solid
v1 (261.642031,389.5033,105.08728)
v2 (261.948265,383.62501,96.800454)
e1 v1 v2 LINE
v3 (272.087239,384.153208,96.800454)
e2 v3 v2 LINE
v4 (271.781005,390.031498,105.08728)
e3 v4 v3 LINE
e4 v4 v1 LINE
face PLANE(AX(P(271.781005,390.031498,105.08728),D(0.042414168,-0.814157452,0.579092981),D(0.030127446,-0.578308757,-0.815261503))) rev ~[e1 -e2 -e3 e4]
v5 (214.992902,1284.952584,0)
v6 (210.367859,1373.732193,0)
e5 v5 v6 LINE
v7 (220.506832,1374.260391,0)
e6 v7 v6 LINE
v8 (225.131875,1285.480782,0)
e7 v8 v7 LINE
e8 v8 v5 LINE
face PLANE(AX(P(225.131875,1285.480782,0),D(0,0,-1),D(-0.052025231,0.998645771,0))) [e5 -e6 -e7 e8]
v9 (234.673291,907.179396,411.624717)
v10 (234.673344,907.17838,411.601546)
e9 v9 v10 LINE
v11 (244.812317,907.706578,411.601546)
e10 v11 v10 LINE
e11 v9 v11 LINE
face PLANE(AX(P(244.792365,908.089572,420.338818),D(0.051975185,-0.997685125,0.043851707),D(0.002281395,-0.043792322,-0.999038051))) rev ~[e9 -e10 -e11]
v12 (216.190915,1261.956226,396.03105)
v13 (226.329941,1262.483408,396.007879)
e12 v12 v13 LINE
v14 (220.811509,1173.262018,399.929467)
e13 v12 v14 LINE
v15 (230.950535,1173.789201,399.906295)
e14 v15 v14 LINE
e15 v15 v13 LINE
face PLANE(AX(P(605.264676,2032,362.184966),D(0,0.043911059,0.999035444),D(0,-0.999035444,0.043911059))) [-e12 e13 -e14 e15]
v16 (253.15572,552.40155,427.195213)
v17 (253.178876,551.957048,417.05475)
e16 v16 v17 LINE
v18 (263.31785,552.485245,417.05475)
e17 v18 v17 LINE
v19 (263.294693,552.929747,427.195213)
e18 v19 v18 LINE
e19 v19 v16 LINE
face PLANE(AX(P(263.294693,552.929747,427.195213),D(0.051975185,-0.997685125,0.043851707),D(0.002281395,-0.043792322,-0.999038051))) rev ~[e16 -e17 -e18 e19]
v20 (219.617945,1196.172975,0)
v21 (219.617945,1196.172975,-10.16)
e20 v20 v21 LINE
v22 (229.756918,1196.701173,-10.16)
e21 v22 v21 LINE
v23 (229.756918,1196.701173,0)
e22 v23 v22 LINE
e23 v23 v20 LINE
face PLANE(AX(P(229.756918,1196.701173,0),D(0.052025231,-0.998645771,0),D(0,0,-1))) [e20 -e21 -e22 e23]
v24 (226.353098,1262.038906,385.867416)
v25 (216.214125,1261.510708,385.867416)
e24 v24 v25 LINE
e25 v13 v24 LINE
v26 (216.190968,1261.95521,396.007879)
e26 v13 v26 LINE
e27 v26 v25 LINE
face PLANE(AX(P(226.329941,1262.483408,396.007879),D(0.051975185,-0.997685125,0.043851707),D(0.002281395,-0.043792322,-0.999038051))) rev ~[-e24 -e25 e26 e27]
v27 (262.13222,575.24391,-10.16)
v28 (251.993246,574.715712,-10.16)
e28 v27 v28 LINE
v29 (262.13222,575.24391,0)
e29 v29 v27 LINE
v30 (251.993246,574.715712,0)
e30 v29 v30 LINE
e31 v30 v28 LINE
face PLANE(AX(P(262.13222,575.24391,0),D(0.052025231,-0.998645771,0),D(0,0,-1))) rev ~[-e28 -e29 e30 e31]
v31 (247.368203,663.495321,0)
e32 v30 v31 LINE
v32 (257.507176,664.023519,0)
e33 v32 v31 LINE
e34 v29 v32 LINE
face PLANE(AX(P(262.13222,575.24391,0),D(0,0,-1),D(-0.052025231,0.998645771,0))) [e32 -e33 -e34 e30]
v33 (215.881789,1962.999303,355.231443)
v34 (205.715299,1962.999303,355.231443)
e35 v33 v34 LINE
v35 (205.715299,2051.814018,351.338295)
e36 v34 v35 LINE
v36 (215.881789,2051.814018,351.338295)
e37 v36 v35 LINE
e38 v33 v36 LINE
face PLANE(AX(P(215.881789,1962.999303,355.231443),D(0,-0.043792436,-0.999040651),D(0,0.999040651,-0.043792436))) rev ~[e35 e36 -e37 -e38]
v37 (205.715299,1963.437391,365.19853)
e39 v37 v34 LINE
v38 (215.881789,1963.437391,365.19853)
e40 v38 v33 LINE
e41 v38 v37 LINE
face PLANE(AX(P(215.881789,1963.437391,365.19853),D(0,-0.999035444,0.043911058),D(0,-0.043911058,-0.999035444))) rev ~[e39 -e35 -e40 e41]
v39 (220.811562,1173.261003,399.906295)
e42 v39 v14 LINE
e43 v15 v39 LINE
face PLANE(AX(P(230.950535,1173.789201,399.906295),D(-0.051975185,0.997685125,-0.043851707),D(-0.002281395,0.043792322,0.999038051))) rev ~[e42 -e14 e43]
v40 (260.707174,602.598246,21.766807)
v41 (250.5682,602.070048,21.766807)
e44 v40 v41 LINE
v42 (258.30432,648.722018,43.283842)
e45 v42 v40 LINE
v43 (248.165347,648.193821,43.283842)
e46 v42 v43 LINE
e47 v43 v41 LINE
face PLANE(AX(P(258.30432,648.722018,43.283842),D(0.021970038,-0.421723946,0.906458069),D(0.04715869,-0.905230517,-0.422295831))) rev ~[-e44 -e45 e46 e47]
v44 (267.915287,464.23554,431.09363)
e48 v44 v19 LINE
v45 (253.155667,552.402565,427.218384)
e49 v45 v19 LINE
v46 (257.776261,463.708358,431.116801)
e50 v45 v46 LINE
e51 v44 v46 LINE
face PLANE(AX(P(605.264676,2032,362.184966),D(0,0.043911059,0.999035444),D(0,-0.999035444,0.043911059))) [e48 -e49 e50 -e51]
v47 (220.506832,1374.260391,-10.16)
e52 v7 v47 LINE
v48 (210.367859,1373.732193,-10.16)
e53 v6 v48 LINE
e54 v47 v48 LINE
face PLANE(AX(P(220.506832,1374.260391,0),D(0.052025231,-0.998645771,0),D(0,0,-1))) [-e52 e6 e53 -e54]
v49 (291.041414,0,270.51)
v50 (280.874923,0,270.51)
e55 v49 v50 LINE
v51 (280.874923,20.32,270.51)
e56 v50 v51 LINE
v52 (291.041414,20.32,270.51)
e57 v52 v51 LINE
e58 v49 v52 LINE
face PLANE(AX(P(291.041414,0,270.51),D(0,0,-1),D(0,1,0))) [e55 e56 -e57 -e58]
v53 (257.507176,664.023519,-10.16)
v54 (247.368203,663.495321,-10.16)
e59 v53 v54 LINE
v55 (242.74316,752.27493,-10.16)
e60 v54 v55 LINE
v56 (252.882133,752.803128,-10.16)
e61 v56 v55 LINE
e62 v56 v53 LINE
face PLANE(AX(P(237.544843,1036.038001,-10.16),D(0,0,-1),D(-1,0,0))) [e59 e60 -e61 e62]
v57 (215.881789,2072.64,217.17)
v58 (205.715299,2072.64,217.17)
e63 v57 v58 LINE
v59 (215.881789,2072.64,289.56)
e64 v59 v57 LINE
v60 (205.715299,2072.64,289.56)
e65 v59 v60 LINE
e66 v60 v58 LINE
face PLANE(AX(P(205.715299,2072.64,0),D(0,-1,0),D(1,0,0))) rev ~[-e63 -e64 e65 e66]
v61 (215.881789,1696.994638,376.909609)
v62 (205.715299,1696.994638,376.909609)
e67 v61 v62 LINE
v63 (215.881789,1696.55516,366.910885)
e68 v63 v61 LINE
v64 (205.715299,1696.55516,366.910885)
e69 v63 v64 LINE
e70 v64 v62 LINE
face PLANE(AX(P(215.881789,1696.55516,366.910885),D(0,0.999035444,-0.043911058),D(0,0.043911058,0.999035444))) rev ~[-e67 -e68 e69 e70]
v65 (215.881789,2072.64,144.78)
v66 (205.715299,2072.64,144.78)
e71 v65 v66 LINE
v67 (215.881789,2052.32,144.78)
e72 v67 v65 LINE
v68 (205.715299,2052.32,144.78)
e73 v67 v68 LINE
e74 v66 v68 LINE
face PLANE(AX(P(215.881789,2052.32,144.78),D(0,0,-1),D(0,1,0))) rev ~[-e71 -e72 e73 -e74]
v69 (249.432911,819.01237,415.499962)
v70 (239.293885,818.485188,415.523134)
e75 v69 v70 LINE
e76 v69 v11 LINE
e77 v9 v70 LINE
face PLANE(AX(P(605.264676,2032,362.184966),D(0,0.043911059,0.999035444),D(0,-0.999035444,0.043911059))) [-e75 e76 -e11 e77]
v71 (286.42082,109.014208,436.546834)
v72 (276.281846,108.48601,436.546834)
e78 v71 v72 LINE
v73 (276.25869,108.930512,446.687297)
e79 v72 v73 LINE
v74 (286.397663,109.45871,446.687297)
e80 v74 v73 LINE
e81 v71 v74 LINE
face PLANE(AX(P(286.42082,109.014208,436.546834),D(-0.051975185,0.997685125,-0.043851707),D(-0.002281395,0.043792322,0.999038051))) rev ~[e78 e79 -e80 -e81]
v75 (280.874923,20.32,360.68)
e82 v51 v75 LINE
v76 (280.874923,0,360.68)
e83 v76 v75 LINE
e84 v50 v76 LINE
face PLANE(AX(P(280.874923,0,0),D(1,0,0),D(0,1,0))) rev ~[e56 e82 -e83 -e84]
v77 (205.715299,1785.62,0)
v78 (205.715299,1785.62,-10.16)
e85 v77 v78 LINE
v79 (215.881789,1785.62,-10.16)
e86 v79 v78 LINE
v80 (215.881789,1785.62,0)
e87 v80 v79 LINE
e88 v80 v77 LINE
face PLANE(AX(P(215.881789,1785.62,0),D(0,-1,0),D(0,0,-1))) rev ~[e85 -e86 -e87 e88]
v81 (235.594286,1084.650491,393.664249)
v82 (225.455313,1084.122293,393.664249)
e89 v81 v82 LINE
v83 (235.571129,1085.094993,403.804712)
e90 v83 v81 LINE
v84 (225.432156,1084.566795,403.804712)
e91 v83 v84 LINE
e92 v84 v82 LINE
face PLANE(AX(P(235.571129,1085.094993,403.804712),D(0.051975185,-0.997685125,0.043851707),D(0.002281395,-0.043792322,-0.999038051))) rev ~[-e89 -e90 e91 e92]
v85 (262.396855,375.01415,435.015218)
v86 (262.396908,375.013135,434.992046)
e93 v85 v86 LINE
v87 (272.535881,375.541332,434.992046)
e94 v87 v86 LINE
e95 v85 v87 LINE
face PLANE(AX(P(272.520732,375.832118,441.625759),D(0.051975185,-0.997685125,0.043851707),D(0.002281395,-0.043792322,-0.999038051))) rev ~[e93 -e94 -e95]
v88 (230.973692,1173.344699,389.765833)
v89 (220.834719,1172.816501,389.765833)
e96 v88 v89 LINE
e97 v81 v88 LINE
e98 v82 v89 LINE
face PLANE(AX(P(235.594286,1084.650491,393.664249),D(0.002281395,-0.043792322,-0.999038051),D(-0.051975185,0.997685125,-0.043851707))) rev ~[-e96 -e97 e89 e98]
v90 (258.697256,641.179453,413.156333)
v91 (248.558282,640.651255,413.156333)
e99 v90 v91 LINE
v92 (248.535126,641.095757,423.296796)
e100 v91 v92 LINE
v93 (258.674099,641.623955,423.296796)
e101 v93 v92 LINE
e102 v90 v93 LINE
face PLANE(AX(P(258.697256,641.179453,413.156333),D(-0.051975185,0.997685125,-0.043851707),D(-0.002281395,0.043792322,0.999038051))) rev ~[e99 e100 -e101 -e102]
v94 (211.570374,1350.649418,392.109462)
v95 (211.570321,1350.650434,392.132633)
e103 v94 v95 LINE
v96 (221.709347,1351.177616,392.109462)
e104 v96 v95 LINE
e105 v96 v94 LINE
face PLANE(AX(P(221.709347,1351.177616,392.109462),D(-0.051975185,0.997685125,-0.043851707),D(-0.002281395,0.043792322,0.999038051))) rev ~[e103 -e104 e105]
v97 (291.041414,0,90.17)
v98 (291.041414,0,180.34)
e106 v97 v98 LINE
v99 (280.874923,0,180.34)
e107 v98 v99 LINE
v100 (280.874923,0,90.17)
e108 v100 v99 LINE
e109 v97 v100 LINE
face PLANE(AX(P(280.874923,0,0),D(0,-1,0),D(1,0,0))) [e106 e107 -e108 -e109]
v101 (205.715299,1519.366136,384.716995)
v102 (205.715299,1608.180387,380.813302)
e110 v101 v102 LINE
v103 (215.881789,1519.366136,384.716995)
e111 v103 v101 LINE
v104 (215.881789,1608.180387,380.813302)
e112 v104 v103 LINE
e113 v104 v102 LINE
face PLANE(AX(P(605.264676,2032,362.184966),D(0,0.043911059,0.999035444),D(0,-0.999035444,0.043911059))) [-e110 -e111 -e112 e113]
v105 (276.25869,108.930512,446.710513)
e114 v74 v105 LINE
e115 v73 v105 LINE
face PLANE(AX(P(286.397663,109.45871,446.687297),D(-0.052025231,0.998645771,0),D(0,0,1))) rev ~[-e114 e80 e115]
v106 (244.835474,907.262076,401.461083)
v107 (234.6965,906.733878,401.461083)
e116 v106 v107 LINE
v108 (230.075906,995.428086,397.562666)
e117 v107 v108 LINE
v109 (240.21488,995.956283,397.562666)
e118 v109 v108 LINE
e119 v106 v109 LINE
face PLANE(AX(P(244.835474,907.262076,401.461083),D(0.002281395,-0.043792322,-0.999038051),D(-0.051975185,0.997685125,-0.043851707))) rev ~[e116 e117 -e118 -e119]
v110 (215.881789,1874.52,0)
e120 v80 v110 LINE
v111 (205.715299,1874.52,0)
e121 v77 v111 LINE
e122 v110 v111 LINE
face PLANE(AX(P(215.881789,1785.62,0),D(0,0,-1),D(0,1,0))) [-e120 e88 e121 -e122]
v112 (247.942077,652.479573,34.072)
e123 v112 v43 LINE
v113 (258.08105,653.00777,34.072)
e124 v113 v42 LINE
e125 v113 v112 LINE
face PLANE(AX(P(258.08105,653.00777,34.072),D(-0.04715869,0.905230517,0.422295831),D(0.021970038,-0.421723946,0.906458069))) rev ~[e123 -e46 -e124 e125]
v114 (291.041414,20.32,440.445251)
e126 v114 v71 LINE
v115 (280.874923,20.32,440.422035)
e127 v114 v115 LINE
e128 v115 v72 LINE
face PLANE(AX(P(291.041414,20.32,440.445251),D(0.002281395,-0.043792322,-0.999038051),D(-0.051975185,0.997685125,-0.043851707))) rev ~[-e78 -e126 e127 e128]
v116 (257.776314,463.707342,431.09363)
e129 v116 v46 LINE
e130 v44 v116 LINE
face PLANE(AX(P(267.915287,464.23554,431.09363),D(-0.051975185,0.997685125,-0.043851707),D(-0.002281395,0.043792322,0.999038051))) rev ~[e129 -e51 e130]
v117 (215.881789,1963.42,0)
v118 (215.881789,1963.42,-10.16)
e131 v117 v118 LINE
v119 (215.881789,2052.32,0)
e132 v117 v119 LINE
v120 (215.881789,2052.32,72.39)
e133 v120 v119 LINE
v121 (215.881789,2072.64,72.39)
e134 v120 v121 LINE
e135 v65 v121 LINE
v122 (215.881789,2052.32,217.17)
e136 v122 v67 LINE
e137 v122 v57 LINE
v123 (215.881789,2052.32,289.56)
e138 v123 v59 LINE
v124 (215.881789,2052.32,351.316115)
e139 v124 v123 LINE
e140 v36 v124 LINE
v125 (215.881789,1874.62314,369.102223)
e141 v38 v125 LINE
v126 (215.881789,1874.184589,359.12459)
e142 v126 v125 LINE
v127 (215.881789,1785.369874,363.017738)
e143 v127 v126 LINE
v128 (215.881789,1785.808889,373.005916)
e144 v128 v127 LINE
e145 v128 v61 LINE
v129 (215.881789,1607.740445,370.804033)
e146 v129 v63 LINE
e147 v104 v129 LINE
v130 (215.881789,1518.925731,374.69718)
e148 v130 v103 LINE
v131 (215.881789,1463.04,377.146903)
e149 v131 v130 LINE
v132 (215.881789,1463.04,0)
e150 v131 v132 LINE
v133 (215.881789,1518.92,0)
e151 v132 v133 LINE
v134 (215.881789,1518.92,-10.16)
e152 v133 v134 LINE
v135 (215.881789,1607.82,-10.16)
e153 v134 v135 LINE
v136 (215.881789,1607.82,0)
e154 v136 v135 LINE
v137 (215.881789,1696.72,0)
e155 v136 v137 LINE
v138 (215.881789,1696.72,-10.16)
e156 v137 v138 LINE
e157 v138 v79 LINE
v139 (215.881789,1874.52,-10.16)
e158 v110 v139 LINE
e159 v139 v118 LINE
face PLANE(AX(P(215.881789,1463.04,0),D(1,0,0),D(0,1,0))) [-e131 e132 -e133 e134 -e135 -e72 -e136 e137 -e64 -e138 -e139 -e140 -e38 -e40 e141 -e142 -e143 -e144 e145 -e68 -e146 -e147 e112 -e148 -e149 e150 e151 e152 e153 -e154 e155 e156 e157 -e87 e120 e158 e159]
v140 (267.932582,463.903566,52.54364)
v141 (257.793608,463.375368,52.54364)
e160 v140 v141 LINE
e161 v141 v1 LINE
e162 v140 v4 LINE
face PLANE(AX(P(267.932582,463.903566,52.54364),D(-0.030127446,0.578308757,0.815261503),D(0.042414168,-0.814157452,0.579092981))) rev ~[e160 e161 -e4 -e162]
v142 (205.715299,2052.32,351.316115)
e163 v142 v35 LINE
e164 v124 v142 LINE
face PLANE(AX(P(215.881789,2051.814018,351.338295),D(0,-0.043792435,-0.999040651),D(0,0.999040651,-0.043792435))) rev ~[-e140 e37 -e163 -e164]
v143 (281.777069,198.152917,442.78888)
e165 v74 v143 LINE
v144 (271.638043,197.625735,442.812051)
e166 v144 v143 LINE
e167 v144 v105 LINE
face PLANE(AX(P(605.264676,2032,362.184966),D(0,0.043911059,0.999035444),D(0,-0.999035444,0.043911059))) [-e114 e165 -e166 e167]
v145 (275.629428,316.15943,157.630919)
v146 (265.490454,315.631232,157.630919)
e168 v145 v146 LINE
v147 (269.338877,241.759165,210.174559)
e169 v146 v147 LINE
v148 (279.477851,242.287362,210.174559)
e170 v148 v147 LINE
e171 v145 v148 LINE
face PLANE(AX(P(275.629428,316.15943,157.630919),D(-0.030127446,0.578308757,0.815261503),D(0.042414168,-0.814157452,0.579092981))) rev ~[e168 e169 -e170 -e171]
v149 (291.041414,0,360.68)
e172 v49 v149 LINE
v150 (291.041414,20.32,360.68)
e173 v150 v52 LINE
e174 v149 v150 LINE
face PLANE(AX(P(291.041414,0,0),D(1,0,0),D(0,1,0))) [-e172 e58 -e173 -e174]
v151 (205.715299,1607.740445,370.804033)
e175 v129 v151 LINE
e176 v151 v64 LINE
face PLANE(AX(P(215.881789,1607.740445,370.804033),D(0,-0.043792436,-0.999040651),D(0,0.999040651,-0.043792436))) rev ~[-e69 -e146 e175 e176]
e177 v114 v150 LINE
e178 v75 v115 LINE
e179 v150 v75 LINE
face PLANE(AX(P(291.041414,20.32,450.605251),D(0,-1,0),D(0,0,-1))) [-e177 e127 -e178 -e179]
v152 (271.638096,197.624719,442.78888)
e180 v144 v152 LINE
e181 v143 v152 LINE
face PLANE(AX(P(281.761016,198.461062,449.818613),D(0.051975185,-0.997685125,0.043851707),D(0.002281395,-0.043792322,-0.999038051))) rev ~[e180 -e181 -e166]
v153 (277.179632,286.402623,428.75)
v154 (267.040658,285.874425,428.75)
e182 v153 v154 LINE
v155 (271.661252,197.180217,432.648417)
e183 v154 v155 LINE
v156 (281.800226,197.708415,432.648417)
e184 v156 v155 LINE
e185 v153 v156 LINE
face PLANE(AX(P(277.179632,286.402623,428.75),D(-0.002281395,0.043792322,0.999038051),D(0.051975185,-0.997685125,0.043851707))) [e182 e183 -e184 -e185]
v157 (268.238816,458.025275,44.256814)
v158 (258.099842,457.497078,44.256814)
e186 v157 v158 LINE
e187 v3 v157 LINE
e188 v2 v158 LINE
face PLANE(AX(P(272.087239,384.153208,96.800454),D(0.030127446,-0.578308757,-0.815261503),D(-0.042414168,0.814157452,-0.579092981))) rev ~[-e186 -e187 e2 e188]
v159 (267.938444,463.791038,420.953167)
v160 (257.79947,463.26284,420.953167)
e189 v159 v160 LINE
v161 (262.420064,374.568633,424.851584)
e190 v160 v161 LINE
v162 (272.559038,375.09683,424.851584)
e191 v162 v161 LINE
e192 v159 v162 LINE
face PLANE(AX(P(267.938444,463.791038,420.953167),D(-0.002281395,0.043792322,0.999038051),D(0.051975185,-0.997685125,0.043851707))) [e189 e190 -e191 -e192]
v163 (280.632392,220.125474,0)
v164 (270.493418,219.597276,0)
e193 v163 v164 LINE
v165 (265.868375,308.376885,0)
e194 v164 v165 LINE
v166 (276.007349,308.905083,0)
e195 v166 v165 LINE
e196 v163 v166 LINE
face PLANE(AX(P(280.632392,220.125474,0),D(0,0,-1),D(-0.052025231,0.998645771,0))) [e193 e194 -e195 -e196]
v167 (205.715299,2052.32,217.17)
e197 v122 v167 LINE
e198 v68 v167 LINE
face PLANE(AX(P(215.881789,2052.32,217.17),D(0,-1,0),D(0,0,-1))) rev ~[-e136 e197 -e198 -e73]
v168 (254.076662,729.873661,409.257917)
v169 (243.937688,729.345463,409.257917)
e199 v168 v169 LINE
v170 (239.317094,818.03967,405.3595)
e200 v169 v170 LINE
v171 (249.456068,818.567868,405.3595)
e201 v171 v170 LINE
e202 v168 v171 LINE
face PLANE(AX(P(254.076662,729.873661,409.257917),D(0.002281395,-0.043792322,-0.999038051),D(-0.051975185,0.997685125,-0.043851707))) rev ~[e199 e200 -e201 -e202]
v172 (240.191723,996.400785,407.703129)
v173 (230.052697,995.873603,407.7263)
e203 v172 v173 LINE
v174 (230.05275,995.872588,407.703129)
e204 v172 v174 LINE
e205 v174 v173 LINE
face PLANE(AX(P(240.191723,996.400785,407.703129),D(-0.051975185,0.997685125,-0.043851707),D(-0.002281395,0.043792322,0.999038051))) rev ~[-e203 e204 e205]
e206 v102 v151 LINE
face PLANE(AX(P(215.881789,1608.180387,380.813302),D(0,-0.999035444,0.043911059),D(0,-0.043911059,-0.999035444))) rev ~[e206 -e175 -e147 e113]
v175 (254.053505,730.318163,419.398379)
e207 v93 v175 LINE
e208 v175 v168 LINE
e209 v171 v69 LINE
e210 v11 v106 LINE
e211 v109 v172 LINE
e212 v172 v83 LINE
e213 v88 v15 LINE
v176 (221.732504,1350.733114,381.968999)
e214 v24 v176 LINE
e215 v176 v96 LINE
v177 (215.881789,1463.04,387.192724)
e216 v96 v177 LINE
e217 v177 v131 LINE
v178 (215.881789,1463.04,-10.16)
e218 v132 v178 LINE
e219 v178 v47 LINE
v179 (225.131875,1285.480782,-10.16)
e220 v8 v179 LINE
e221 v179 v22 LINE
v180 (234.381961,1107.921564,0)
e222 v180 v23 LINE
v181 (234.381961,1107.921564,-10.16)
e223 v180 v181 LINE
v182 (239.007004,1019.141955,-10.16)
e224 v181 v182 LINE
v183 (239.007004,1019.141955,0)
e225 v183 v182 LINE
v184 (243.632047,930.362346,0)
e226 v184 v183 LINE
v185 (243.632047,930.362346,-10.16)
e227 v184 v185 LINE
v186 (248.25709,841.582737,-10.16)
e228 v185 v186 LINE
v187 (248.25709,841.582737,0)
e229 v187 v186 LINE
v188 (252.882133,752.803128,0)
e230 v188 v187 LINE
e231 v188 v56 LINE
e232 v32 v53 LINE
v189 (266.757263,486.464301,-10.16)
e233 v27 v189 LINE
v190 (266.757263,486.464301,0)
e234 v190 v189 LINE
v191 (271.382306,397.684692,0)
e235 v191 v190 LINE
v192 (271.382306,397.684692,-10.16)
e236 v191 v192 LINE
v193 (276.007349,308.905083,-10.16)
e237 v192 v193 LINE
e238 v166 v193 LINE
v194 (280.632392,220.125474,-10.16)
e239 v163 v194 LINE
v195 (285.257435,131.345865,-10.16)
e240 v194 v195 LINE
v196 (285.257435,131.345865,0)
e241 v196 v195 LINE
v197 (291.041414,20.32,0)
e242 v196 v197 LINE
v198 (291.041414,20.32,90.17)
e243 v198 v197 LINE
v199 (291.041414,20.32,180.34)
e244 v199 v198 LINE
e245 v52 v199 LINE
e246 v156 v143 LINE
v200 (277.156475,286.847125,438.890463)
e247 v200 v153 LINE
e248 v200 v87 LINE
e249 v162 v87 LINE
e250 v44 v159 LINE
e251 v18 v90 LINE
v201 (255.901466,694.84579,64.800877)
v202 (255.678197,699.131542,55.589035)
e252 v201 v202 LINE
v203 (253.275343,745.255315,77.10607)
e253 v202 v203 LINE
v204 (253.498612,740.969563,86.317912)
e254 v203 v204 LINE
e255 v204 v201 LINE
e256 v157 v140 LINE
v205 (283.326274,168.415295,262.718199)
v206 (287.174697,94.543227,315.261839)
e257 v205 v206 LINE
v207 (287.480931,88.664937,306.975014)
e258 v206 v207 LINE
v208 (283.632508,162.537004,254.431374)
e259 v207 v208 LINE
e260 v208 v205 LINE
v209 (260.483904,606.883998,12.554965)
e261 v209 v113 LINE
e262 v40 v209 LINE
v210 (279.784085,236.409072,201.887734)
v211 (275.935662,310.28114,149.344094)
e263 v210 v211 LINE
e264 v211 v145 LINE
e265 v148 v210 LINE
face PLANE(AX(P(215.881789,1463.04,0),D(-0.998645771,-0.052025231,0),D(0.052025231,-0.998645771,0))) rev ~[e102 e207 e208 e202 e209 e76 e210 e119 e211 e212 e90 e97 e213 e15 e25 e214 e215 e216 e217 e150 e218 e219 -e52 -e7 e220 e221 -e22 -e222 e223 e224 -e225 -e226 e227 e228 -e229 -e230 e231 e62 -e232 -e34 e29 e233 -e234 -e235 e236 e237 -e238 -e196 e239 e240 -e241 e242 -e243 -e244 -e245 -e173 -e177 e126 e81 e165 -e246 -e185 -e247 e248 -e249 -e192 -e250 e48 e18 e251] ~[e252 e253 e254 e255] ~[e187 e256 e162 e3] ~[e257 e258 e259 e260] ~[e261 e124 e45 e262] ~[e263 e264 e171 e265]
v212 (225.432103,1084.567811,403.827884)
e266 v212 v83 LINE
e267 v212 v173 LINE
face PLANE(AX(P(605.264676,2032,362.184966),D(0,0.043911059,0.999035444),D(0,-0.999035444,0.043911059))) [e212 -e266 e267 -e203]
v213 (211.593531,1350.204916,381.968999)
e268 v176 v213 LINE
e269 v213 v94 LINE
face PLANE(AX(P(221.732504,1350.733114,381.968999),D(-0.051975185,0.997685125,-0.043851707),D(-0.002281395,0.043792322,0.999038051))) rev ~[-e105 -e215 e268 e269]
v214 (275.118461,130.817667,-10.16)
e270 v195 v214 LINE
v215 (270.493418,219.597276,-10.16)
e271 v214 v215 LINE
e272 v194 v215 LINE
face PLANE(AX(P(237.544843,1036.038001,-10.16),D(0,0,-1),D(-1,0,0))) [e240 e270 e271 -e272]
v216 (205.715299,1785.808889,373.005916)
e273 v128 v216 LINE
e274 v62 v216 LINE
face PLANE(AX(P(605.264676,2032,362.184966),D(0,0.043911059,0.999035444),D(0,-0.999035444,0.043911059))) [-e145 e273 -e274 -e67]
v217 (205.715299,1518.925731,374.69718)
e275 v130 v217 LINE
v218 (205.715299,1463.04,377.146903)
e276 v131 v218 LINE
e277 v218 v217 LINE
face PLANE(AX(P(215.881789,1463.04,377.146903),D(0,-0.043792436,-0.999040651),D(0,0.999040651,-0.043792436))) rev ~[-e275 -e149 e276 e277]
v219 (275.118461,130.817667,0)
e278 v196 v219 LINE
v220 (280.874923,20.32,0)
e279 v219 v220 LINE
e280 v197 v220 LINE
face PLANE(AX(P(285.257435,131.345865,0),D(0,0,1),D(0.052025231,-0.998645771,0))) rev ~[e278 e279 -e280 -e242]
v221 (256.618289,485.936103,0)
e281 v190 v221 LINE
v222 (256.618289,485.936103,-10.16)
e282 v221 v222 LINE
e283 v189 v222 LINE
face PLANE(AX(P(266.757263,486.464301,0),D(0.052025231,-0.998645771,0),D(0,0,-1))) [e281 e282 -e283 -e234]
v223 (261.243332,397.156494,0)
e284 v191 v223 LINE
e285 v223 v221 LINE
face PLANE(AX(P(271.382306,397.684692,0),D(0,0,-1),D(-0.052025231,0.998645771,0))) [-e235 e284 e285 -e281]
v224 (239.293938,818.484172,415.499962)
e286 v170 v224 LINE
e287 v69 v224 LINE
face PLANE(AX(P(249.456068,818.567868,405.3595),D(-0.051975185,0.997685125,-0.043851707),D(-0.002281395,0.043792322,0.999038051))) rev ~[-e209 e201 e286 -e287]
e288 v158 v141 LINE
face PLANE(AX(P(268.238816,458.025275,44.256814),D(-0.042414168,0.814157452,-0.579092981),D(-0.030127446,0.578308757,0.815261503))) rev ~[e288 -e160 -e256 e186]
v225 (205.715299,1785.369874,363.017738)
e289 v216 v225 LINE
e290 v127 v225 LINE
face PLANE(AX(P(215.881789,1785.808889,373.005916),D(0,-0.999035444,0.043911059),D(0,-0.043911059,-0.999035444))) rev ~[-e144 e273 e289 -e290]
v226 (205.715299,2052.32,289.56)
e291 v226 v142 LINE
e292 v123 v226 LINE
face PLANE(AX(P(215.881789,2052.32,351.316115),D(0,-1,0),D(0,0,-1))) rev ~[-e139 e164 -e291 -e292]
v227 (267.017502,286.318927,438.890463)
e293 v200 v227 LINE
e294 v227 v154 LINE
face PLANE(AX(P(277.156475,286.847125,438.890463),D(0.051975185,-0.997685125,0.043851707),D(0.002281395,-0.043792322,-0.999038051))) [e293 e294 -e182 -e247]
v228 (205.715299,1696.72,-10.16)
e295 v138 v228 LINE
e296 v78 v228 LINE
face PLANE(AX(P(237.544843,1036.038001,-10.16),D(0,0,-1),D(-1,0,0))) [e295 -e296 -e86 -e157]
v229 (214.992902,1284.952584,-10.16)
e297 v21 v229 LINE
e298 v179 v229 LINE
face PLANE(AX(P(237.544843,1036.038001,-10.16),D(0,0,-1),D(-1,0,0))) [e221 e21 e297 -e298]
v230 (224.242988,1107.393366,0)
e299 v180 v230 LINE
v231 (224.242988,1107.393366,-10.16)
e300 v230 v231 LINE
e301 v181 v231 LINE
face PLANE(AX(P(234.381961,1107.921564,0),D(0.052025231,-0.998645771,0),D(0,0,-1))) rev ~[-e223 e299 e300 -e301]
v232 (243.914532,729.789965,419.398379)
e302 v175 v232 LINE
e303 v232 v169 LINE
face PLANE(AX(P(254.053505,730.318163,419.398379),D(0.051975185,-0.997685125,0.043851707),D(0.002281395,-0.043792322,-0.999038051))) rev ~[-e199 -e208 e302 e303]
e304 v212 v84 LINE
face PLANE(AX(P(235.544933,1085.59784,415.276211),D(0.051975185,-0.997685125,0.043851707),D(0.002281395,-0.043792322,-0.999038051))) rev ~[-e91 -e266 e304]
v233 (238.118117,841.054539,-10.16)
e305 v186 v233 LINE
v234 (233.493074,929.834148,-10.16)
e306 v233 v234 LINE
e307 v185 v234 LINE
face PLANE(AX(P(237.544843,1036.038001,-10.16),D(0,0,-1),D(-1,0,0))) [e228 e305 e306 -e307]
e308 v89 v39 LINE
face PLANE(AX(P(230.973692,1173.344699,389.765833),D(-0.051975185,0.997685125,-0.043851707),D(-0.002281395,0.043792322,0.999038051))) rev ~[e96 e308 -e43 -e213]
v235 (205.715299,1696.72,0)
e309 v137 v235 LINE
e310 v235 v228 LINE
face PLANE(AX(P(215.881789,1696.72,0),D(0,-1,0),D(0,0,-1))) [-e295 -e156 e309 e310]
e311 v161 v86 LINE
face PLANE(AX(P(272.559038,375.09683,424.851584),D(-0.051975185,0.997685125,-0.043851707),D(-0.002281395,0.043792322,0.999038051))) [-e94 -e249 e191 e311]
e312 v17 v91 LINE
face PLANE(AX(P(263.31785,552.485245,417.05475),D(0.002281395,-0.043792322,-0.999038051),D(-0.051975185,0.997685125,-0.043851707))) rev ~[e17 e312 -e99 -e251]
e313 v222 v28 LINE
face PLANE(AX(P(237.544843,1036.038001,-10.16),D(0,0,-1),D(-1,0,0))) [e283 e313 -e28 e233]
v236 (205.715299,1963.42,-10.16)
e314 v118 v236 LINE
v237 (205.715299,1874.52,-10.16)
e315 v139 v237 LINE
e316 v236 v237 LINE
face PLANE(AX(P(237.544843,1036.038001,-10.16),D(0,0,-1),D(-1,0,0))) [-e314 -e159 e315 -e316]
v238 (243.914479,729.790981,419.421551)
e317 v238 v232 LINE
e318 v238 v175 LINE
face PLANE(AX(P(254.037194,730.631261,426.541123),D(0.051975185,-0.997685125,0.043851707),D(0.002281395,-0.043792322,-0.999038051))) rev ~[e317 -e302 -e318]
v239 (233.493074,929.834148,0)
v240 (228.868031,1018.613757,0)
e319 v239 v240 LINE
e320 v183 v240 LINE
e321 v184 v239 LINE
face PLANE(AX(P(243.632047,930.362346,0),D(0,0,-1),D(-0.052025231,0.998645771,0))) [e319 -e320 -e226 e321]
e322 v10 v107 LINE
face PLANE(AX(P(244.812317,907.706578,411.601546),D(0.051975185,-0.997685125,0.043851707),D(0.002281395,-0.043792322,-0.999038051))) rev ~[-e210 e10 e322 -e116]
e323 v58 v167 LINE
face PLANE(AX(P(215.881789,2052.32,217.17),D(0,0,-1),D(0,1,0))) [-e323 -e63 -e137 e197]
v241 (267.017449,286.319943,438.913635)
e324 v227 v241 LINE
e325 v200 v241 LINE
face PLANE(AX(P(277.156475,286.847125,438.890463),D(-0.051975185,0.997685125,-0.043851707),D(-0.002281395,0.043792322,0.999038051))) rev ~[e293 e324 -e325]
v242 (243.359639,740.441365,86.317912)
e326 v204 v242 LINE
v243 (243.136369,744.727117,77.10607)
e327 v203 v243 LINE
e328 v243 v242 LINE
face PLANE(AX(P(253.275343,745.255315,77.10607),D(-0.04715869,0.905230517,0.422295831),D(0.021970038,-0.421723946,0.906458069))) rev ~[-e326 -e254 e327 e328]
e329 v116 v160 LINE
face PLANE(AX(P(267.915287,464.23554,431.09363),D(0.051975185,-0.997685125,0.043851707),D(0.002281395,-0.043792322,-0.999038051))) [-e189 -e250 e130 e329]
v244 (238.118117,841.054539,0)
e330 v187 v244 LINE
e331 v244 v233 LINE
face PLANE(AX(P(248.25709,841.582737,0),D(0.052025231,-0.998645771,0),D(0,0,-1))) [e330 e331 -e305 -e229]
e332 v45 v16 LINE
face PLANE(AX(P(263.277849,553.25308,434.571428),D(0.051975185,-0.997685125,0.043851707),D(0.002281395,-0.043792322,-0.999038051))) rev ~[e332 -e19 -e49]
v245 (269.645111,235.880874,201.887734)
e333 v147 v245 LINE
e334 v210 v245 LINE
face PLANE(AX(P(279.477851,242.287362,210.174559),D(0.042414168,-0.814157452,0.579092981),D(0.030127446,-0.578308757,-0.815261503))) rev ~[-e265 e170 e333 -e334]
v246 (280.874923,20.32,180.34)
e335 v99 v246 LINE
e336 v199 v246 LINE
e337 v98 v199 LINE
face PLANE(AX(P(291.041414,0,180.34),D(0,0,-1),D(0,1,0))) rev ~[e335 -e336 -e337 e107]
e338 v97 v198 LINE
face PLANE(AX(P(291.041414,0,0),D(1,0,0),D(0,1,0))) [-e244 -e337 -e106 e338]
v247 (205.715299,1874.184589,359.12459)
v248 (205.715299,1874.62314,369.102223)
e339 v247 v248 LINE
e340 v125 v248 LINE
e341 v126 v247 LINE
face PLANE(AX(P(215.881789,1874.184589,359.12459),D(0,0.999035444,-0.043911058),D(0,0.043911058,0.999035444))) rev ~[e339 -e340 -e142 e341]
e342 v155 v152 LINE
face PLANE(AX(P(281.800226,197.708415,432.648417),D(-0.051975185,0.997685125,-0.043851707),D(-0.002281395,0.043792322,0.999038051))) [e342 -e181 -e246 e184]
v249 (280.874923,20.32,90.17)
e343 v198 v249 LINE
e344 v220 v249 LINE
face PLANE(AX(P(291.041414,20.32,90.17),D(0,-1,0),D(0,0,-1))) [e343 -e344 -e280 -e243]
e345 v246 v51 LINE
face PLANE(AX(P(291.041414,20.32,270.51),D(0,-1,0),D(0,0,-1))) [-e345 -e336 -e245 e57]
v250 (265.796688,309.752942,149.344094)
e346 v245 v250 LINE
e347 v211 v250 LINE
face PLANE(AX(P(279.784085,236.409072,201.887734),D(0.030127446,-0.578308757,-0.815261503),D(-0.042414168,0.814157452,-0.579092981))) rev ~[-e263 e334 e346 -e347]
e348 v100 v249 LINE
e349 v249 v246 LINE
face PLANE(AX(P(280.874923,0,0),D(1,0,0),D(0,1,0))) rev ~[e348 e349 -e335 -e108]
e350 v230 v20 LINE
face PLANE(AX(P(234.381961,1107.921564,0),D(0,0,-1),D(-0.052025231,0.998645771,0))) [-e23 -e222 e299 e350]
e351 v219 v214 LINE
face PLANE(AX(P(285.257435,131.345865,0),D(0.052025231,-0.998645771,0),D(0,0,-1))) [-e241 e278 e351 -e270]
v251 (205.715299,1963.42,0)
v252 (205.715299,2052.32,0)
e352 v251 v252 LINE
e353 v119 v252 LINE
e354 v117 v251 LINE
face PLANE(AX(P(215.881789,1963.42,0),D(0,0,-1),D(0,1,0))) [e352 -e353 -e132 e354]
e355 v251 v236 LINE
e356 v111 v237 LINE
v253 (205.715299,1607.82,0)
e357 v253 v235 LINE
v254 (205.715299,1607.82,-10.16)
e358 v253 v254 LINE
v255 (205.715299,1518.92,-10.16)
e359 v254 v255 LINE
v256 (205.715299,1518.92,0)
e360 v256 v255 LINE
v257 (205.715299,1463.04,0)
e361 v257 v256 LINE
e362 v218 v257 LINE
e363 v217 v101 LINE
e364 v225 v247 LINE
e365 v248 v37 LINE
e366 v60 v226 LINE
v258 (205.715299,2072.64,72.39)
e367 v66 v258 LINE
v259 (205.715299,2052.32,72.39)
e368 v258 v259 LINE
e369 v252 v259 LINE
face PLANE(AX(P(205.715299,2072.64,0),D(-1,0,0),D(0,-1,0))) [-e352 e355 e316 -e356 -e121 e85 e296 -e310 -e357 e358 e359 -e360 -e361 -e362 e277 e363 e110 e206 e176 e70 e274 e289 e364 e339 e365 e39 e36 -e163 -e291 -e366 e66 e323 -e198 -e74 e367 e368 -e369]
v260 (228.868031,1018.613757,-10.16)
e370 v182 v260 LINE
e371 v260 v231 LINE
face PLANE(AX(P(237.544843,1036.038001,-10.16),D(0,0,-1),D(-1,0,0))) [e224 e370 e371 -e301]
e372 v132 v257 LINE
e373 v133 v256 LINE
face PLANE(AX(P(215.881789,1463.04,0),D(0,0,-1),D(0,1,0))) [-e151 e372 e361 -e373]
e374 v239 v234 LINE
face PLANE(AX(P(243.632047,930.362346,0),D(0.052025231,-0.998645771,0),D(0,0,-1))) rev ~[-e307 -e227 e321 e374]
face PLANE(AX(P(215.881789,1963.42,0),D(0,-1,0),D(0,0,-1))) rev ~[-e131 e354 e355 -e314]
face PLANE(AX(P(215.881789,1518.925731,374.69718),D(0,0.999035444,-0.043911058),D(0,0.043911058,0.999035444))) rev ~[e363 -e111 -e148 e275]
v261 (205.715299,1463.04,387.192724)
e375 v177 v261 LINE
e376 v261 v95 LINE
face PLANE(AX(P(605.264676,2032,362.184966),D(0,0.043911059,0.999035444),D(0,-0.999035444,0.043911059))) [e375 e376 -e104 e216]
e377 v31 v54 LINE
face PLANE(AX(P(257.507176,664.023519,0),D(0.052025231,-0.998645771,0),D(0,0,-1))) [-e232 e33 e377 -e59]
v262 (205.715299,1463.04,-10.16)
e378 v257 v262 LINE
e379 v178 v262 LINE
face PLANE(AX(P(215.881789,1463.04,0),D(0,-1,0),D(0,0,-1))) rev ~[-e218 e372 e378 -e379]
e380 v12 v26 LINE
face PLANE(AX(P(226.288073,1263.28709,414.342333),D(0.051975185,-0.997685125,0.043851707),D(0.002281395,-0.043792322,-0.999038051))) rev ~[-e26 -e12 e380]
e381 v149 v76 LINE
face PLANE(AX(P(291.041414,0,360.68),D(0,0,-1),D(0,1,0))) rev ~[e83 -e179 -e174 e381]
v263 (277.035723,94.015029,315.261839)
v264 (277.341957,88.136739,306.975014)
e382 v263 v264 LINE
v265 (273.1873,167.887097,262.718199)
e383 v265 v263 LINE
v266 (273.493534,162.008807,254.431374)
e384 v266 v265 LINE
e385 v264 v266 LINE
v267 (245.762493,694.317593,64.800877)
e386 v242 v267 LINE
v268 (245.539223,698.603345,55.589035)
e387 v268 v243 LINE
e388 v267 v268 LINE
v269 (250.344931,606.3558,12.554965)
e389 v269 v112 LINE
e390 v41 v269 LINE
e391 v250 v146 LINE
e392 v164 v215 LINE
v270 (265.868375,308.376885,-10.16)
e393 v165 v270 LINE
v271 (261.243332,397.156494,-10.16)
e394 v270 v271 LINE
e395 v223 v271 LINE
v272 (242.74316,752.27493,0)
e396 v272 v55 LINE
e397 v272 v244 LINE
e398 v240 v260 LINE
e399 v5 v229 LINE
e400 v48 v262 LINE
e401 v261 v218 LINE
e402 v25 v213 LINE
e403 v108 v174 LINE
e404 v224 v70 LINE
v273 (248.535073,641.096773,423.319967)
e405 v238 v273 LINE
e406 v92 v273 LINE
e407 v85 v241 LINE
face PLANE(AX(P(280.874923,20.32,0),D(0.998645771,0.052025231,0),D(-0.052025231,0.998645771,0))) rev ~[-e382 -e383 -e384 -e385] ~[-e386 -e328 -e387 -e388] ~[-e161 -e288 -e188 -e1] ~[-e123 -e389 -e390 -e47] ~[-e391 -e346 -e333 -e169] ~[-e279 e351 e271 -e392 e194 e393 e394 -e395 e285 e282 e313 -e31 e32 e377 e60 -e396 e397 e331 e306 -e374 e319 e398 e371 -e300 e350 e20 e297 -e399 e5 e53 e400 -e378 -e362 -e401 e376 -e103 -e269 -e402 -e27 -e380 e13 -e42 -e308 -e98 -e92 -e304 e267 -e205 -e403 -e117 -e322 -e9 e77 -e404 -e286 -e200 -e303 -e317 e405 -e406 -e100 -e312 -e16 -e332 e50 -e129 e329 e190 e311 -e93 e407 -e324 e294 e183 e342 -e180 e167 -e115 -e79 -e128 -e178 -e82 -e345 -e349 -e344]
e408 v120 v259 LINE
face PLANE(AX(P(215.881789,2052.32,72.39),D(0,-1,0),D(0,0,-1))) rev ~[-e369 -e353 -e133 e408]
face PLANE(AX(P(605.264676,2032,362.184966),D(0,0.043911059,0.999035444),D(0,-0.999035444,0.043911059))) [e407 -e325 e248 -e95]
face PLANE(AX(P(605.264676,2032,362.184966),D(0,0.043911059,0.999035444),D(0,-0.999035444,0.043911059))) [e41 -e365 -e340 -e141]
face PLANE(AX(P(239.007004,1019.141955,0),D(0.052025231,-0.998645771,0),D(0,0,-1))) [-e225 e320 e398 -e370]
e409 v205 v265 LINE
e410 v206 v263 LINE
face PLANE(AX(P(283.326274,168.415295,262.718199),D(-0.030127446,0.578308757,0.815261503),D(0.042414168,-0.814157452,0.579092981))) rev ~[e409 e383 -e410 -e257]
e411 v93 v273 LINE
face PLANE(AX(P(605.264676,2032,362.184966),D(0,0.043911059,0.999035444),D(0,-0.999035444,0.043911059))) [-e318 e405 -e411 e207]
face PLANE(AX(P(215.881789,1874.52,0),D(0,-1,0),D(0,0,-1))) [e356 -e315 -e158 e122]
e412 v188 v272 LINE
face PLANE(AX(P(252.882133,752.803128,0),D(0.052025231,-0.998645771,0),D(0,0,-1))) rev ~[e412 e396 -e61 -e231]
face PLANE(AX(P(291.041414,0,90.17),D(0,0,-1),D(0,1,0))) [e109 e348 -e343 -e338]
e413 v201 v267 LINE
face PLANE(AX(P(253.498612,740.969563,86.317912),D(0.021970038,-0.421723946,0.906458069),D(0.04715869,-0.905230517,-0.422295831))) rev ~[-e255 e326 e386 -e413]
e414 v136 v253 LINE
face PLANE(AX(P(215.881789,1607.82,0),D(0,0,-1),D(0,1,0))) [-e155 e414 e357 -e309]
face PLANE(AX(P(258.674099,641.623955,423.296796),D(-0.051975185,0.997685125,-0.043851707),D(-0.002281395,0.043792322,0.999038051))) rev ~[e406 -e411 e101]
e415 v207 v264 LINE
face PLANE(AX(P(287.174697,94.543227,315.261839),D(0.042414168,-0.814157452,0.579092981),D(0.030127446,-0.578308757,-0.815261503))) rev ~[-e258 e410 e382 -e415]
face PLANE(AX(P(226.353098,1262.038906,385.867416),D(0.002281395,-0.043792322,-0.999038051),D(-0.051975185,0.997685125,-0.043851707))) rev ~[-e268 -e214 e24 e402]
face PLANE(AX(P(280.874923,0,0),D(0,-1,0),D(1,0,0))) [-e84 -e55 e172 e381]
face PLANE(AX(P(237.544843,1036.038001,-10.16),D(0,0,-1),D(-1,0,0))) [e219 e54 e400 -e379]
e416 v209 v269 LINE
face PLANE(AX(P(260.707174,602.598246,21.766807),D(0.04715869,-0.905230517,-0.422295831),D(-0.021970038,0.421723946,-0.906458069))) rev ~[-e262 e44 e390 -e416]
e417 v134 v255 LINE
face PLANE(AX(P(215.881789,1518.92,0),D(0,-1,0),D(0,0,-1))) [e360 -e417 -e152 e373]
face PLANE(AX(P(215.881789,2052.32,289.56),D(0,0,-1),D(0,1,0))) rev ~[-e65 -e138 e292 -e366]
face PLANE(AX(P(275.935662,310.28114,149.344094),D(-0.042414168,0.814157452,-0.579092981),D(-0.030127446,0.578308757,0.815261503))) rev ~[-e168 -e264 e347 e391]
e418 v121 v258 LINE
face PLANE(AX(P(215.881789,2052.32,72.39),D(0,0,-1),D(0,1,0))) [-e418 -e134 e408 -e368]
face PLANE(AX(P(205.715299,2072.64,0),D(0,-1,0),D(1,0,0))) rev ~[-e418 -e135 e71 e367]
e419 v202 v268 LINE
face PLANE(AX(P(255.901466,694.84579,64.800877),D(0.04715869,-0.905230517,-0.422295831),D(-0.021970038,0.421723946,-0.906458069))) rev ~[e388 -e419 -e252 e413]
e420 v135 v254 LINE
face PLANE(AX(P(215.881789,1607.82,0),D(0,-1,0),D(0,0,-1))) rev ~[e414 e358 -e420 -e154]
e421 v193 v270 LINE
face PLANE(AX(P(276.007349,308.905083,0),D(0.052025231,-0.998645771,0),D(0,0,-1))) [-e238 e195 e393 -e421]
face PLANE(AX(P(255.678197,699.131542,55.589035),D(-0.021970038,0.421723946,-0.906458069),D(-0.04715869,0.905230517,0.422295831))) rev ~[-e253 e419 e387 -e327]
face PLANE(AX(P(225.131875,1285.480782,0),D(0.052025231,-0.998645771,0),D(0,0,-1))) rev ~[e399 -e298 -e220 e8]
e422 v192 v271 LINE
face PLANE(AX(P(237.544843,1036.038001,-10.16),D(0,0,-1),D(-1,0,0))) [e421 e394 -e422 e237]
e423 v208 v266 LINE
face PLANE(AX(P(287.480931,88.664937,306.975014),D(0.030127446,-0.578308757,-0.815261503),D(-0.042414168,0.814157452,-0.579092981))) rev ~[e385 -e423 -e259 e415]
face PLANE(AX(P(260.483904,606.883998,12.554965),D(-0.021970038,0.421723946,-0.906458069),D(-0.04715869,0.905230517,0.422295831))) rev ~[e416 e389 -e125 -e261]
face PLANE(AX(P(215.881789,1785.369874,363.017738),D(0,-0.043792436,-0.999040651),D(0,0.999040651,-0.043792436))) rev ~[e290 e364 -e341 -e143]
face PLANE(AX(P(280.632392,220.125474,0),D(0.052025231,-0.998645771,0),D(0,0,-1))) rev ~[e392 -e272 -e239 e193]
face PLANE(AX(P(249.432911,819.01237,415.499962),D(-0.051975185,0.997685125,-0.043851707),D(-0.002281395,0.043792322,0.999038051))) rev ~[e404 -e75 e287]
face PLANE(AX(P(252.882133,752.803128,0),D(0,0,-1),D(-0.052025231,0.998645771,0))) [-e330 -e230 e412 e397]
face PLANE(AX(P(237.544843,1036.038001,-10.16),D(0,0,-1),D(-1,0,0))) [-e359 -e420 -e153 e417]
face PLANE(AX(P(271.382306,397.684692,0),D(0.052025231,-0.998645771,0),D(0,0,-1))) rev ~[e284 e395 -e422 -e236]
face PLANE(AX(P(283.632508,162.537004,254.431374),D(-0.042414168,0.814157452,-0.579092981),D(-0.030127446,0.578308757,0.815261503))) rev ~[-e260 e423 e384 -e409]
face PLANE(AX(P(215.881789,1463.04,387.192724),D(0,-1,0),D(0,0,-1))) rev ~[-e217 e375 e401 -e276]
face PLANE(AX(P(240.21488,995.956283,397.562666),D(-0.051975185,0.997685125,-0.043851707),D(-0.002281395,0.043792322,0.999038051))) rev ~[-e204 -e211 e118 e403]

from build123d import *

# Parameters (mm, degrees)
SKETCH1_W                = 10.166490401
SKETCH1_H                = 20.32
BOSS_EXTRUDE1_DEPTH      = 450.605251
BOSS_EXTRUDE1_DEPTH_BACK = 10.16
SKETCH2_W                = 40.64
SKETCH2_H                = 88.420284457
CUT_EXTRUDE1_DEPTH       = 1125.982
SKETCH4_W                = 10.16
SKETCH4_H                = 20.292482061
SKETCH4_H_2              = 111.176423169
SKETCH4_H_3              = 88.9
CUT_EXTRUDE2_DEPTH       = 2108.968119463
CUT_EXTRUDE3_REACH       = 2123.564
SKETCH5_W                = 10.16
SKETCH5_H                = 88.9
SKETCH5_H_2              = 55.879999965
SKETCH6_W                = 89.925250809
SKETCH6_H                = 20.32
SKETCH6_W_2              = 90.17
CUT_EXTRUDE4_DEPTH       = 1125.982
SKETCH7_W                = 82.55
SKETCH7_H                = 20.32
SKETCH7_W_2              = 72.39
CUT_EXTRUDE5_DEPTH       = 1125.982
CUT_EXTRUDE6_DEPTH       = 2108.139004111


with BuildPart() as part:
    # Sketch1 → Boss-Extrude1 (new, two sides)
    with BuildSketch(Plane.XY) as boss_extrude1_sk:
        Polygon((291.041413739, 20.32), (280.874923338, 20.32), (205.715298803, 1463.040000035), (205.715298803, 2052.32), (215.881789204, 2052.32), (215.881789204, 1463.040000035), align=None)
        with Locations((285.958168538, 10.16)):
            Rectangle(SKETCH1_W, SKETCH1_H)
        with Locations((210.798544004, 2062.48)):
            Rectangle(SKETCH1_W, SKETCH1_H)
    extrude(amount=BOSS_EXTRUDE1_DEPTH)
    extrude(boss_extrude1_sk.sketch, amount=-BOSS_EXTRUDE1_DEPTH_BACK)

    # Sketch2 → Cut-Extrude1 (cut)
    with BuildSketch(Plane(origin=(605.264675653, -1278.915479685, -1125.851113248), x_dir=(0, -1, 0), z_dir=(-1, 0, 0))):
        Polygon((-3310.915479685, 1576.456364056), (-3310.915479685, 1488.036079599), (-1299.235479685, 1576.456364056), align=None)
        with Locations((-3331.235479685, 1532.246221827)):
            Rectangle(SKETCH2_W, SKETCH2_H)
    extrude(amount=CUT_EXTRUDE1_DEPTH, mode=Mode.SUBTRACT)

    # Sketch4 → Cut-Extrude2 (cut, through all)
    with BuildSketch(Plane(origin=(291.309394939, 15.175990314, 0), x_dir=(0, 0, -1), z_dir=(0.9986457707048434, 0.05202523093009139, 0))):
        with Locations((5.08, -4.99525573)):
            Rectangle(SKETCH4_W, SKETCH4_H)
        with Locations((5.08, 60.739196886)):
            Rectangle(SKETCH4_W, SKETCH4_H_2)
        with Locations((5.08, 249.67740847)):
            Rectangle(SKETCH4_W, SKETCH4_H_3)
        with Locations((5.08, 783.07740847)):
            Rectangle(SKETCH4_W, SKETCH4_H_3)
        with Locations((5.08, 960.87740847)):
            Rectangle(SKETCH4_W, SKETCH4_H_3)
        with Locations((5.08, 1138.67740847)):
            Rectangle(SKETCH4_W, SKETCH4_H_3)
        with Locations((5.08, 1316.47740847)):
            Rectangle(SKETCH4_W, SKETCH4_H_3)
        with Locations((-445.525250809, -4.99525573)):
            Rectangle(SKETCH4_W, SKETCH4_H)
        Polygon((-450.605250809, 5.150985301), (-440.445250809, 5.150985301), (-436.546834031, 93.965468053), (-446.687296633, 94.410572819), align=None)
        Polygon((-411.601545632, 893.740917593), (-401.46108303, 893.295812828), (-397.562666252, 982.11029558), (-407.703128854, 982.555400346), align=None)
        Polygon((-403.804712076, 1071.369883099), (-393.664249474, 1070.924778333), (-389.765832696, 1159.739261086), (-399.906295298, 1160.184365851), align=None)
        Polygon((-396.00787852, 1248.998848604), (-385.867415918, 1248.553743838), (-381.96899914, 1337.368226591), (-392.109461742, 1337.813331357), align=None)
        Polygon((-419.398379188, 716.111952088), (-409.257916585, 715.666847322), (-405.359499808, 804.481330075), (-415.49996241, 804.926434841), align=None)
        Polygon((-455.140613686, 5.150985301), (-450.605250809, 5.150985301), (-446.687296633, 94.410572819), (-450.605250809, 94.410572819), align=None)
        Polygon((-449.818612929, 183.53361819), (-442.788879855, 183.225055572), (-438.890463077, 272.039538325), (-445.920196151, 272.348100943), align=None)
        Polygon((-441.625759495, 361.145200827), (-434.992046299, 360.854021077), (-431.093629521, 449.66850383), (-437.727342717, 449.959683579), align=None)
        Polygon((-434.571427919, 538.806757663), (-427.195212743, 538.482986583), (-423.296795965, 627.297469335), (-430.673011141, 627.621240415), align=None)
        Polygon((-426.54112259, 716.425475174), (-419.398379188, 716.111952088), (-415.49996241, 804.926434841), (-422.642705812, 805.239957927), align=None)
        Polygon((-420.338817864, 894.124430818), (-411.601545632, 893.740917593), (-407.703128854, 982.555400346), (-416.440401086, 982.93891357), align=None)
        Polygon((-415.276210663, 1071.873412266), (-403.804712076, 1071.369883099), (-399.906295298, 1160.184365851), (-411.377793885, 1160.687895019), align=None)
        Polygon((-414.342332906, 1249.80361988), (-396.00787852, 1248.998848604), (-392.109461742, 1337.813331357), (-410.443916128, 1338.618102632), align=None)
        with Locations((5.08, 427.47740847)):
            Rectangle(SKETCH4_W, SKETCH4_H_3)
        with Locations((5.08, 605.27740847)):
            Rectangle(SKETCH4_W, SKETCH4_H_3)
        Polygon((-442.788879855, 183.225055572), (-438.890463077, 272.039538325), (-428.750000475, 271.594433559), (-432.648417253, 182.779950806), align=None)
        Polygon((-434.992046299, 360.854021077), (-431.093629521, 449.66850383), (-420.953166919, 449.223399064), (-424.851583697, 360.408916311), align=None)
        Polygon((-417.054750141, 538.037881817), (-413.156333363, 626.852364569), (-423.296795965, 627.297469335), (-427.195212743, 538.482986583), align=None)
    extrude(amount=-CUT_EXTRUDE2_DEPTH, mode=Mode.SUBTRACT)

    # Cut-Extrude3: up to this face of the body (flat: up to its plane)
    cut_extrude3_end = Plane(part.part.faces().sort_by_distance((205.715298803, 1754.382873748, 182.121056608))[0])
    # Sketch5 → Cut-Extrude3 (cut, up to the picked face)
    with BuildSketch(Plane(origin=(215.881789204, 0, 0), x_dir=(0, 0, -1), z_dir=(1, 0, 0)), mode=Mode.PRIVATE) as cut_extrude3_sk1:
        with Locations((5.08, 2007.87)):
            Rectangle(SKETCH5_W, SKETCH5_H)
    cut_extrude3_tool1 = split(extrude(cut_extrude3_sk1.sketch, amount=-CUT_EXTRUDE3_REACH, mode=Mode.PRIVATE), bisect_by=cut_extrude3_end, keep=Keep.BOTH, mode=Mode.PRIVATE)
    # Sketch5 → Cut-Extrude3 (cut, up to the picked face)
    with BuildSketch(Plane(origin=(215.881789204, 0, 0), x_dir=(0, 0, -1), z_dir=(1, 0, 0)), mode=Mode.PRIVATE) as cut_extrude3_sk2:
        with Locations((5.08, 1830.07)):
            Rectangle(SKETCH5_W, SKETCH5_H)
    cut_extrude3_tool2 = split(extrude(cut_extrude3_sk2.sketch, amount=-CUT_EXTRUDE3_REACH, mode=Mode.PRIVATE), bisect_by=cut_extrude3_end, keep=Keep.BOTH, mode=Mode.PRIVATE)
    # Sketch5 → Cut-Extrude3 (cut, up to the picked face)
    with BuildSketch(Plane(origin=(215.881789204, 0, 0), x_dir=(0, 0, -1), z_dir=(1, 0, 0)), mode=Mode.PRIVATE) as cut_extrude3_sk3:
        with Locations((5.08, 1652.27)):
            Rectangle(SKETCH5_W, SKETCH5_H)
    cut_extrude3_tool3 = split(extrude(cut_extrude3_sk3.sketch, amount=-CUT_EXTRUDE3_REACH, mode=Mode.PRIVATE), bisect_by=cut_extrude3_end, keep=Keep.BOTH, mode=Mode.PRIVATE)
    # Sketch5 → Cut-Extrude3 (cut, up to the picked face)
    with BuildSketch(Plane(origin=(215.881789204, 0, 0), x_dir=(0, 0, -1), z_dir=(1, 0, 0)), mode=Mode.PRIVATE) as cut_extrude3_sk4:
        with Locations((5.08, 1490.980000018)):
            Rectangle(SKETCH5_W, SKETCH5_H_2)
    cut_extrude3_tool4 = split(extrude(cut_extrude3_sk4.sketch, amount=-CUT_EXTRUDE3_REACH, mode=Mode.PRIVATE), bisect_by=cut_extrude3_end, keep=Keep.BOTH, mode=Mode.PRIVATE)
    # Sketch5 → Cut-Extrude3 (cut, up to the picked face)
    with BuildSketch(Plane(origin=(215.881789204, 0, 0), x_dir=(0, 0, -1), z_dir=(1, 0, 0)), mode=Mode.PRIVATE) as cut_extrude3_sk5:
        Polygon((-355.231442512, 1962.99930346), (-351.338294917, 2051.814017969), (-361.488468688, 2052.260153165), (-362.184966352, 2036.370891417), (-362.184966352, 2032), (-365.19852982, 1963.437391374), align=None)
    cut_extrude3_tool5 = split(extrude(cut_extrude3_sk5.sketch, amount=-CUT_EXTRUDE3_REACH, mode=Mode.PRIVATE), bisect_by=cut_extrude3_end, keep=Keep.BOTH, mode=Mode.PRIVATE)
    # Sketch5 → Cut-Extrude3 (cut, up to the picked face)
    with BuildSketch(Plane(origin=(215.881789204, 0, 0), x_dir=(0, 0, -1), z_dir=(1, 0, 0)), mode=Mode.PRIVATE) as cut_extrude3_sk6:
        Polygon((-363.017737701, 1785.369874443), (-359.124590106, 1874.184588952), (-369.102222921, 1874.623140377), (-373.005916021, 1785.80888938), align=None)
    cut_extrude3_tool6 = split(extrude(cut_extrude3_sk6.sketch, amount=-CUT_EXTRUDE3_REACH, mode=Mode.PRIVATE), bisect_by=cut_extrude3_end, keep=Keep.BOTH, mode=Mode.PRIVATE)
    # Sketch5 → Cut-Extrude3 (cut, up to the picked face)
    with BuildSketch(Plane(origin=(215.881789204, 0, 0), x_dir=(0, 0, -1), z_dir=(1, 0, 0)), mode=Mode.PRIVATE) as cut_extrude3_sk7:
        Polygon((-387.19272357, 1463.040000035), (-377.14690292, 1463.040000035), (-374.697180484, 1518.925730918), (-384.716995324, 1519.366136389), align=None)
    cut_extrude3_tool7 = split(extrude(cut_extrude3_sk7.sketch, amount=-CUT_EXTRUDE3_REACH, mode=Mode.PRIVATE), bisect_by=cut_extrude3_end, keep=Keep.BOTH, mode=Mode.PRIVATE)
    # Sketch5 → Cut-Extrude3 (cut, up to the picked face)
    with BuildSketch(Plane(origin=(215.881789204, 0, 0), x_dir=(0, 0, -1), z_dir=(1, 0, 0)), mode=Mode.PRIVATE) as cut_extrude3_sk8:
        Polygon((-370.80403289, 1607.740445426), (-366.910885295, 1696.555159935), (-376.909609122, 1696.994638383), (-380.813302223, 1608.180387386), align=None)
    cut_extrude3_tool8 = split(extrude(cut_extrude3_sk8.sketch, amount=-CUT_EXTRUDE3_REACH, mode=Mode.PRIVATE), bisect_by=cut_extrude3_end, keep=Keep.BOTH, mode=Mode.PRIVATE)
    add(cut_extrude3_tool1.solids().sort_by(Axis((215.881789, 2007.87, -5.08), (-1, 0, 0)))[0], mode=Mode.SUBTRACT)
    add(cut_extrude3_tool2.solids().sort_by(Axis((215.881789, 1830.07, -5.08), (-1, 0, 0)))[0], mode=Mode.SUBTRACT)
    add(cut_extrude3_tool3.solids().sort_by(Axis((215.881789, 1652.27, -5.08), (-1, 0, 0)))[0], mode=Mode.SUBTRACT)
    add(cut_extrude3_tool4.solids().sort_by(Axis((215.881789, 1490.98, -5.08), (-1, 0, 0)))[0], mode=Mode.SUBTRACT)
    add(cut_extrude3_tool5.solids().sort_by(Axis((215.881789, 2007.75713, 358.279909), (-1, 0, 0)))[0], mode=Mode.SUBTRACT)
    add(cut_extrude3_tool6.solids().sort_by(Axis((215.881789, 1829.988805, 366.06296), (-1, 0, 0)))[0], mode=Mode.SUBTRACT)
    add(cut_extrude3_tool7.solids().sort_by(Axis((215.881789, 1491.090003, 380.945152), (-1, 0, 0)))[0], mode=Mode.SUBTRACT)
    add(cut_extrude3_tool8.solids().sort_by(Axis((215.881789, 1652.359856, 373.8598), (-1, 0, 0)))[0], mode=Mode.SUBTRACT)

    # Sketch6 → Cut-Extrude4 (cut)
    with BuildSketch(Plane(origin=(291.041413739, 0, 0), x_dir=(0, 0, -1), z_dir=(1, 0, 0))):
        with Locations((-405.642625404, 10.16)):
            Rectangle(SKETCH6_W, SKETCH6_H)
        with Locations((-225.425, 10.16)):
            Rectangle(SKETCH6_W_2, SKETCH6_H)
        with Locations((-45.085, 10.16)):
            Rectangle(SKETCH6_W_2, SKETCH6_H)
    extrude(amount=-CUT_EXTRUDE4_DEPTH, mode=Mode.SUBTRACT)

    # Sketch7 → Cut-Extrude5 (cut)
    with BuildSketch(Plane(origin=(215.881789204, 0, 0), x_dir=(0, 0, -1), z_dir=(1, 0, 0))):
        with Locations((-31.115, 2062.48)):
            Rectangle(SKETCH7_W, SKETCH7_H)
        with Locations((-180.975, 2062.48)):
            Rectangle(SKETCH7_W_2, SKETCH7_H)
        Polygon((-351.338294917, 2051.814017969), (-351.316115454, 2052.32), (-289.56, 2052.32), (-289.56, 2072.64), (-362.184966352, 2072.64), (-362.184966352, 2036.370891417), (-361.488468688, 2052.260153165), align=None)
    extrude(amount=-CUT_EXTRUDE5_DEPTH, mode=Mode.SUBTRACT)

    # Sketch9 → Cut-Extrude6 (cut, through all)
    with BuildSketch(Plane(origin=(291.309394939, 15.175990314, 0), x_dir=(0, 0, -1), z_dir=(0.9986457707048444, 0.05202523093007474, 0))):
        Polygon((-96.800454295, 369.477574692), (-44.256814481, 443.449817787), (-52.543639813, 449.336079272), (-105.087279627, 375.363836176), align=None)
        Polygon((-201.887733921, 221.533088501), (-149.344094108, 295.505331596), (-157.63091944, 301.39159308), (-210.174559253, 227.419349985), align=None)
        Polygon((-306.975013548, 73.588602309), (-254.431373734, 147.560845405), (-262.718199066, 153.447106889), (-315.26183888, 79.474863794), align=None)
        Polygon((-21.7668071, 588.218839028), (-12.554964696, 592.51040284), (-34.07199968, 638.696721847), (-43.283842083, 634.405158034), align=None)
        Polygon((-55.589034664, 684.883040853), (-77.106069648, 731.069359859), (-86.317912051, 726.777796047), (-64.800877067, 680.591477041), align=None)
    extrude(amount=-CUT_EXTRUDE6_DEPTH, mode=Mode.SUBTRACT)


solid = part.part
